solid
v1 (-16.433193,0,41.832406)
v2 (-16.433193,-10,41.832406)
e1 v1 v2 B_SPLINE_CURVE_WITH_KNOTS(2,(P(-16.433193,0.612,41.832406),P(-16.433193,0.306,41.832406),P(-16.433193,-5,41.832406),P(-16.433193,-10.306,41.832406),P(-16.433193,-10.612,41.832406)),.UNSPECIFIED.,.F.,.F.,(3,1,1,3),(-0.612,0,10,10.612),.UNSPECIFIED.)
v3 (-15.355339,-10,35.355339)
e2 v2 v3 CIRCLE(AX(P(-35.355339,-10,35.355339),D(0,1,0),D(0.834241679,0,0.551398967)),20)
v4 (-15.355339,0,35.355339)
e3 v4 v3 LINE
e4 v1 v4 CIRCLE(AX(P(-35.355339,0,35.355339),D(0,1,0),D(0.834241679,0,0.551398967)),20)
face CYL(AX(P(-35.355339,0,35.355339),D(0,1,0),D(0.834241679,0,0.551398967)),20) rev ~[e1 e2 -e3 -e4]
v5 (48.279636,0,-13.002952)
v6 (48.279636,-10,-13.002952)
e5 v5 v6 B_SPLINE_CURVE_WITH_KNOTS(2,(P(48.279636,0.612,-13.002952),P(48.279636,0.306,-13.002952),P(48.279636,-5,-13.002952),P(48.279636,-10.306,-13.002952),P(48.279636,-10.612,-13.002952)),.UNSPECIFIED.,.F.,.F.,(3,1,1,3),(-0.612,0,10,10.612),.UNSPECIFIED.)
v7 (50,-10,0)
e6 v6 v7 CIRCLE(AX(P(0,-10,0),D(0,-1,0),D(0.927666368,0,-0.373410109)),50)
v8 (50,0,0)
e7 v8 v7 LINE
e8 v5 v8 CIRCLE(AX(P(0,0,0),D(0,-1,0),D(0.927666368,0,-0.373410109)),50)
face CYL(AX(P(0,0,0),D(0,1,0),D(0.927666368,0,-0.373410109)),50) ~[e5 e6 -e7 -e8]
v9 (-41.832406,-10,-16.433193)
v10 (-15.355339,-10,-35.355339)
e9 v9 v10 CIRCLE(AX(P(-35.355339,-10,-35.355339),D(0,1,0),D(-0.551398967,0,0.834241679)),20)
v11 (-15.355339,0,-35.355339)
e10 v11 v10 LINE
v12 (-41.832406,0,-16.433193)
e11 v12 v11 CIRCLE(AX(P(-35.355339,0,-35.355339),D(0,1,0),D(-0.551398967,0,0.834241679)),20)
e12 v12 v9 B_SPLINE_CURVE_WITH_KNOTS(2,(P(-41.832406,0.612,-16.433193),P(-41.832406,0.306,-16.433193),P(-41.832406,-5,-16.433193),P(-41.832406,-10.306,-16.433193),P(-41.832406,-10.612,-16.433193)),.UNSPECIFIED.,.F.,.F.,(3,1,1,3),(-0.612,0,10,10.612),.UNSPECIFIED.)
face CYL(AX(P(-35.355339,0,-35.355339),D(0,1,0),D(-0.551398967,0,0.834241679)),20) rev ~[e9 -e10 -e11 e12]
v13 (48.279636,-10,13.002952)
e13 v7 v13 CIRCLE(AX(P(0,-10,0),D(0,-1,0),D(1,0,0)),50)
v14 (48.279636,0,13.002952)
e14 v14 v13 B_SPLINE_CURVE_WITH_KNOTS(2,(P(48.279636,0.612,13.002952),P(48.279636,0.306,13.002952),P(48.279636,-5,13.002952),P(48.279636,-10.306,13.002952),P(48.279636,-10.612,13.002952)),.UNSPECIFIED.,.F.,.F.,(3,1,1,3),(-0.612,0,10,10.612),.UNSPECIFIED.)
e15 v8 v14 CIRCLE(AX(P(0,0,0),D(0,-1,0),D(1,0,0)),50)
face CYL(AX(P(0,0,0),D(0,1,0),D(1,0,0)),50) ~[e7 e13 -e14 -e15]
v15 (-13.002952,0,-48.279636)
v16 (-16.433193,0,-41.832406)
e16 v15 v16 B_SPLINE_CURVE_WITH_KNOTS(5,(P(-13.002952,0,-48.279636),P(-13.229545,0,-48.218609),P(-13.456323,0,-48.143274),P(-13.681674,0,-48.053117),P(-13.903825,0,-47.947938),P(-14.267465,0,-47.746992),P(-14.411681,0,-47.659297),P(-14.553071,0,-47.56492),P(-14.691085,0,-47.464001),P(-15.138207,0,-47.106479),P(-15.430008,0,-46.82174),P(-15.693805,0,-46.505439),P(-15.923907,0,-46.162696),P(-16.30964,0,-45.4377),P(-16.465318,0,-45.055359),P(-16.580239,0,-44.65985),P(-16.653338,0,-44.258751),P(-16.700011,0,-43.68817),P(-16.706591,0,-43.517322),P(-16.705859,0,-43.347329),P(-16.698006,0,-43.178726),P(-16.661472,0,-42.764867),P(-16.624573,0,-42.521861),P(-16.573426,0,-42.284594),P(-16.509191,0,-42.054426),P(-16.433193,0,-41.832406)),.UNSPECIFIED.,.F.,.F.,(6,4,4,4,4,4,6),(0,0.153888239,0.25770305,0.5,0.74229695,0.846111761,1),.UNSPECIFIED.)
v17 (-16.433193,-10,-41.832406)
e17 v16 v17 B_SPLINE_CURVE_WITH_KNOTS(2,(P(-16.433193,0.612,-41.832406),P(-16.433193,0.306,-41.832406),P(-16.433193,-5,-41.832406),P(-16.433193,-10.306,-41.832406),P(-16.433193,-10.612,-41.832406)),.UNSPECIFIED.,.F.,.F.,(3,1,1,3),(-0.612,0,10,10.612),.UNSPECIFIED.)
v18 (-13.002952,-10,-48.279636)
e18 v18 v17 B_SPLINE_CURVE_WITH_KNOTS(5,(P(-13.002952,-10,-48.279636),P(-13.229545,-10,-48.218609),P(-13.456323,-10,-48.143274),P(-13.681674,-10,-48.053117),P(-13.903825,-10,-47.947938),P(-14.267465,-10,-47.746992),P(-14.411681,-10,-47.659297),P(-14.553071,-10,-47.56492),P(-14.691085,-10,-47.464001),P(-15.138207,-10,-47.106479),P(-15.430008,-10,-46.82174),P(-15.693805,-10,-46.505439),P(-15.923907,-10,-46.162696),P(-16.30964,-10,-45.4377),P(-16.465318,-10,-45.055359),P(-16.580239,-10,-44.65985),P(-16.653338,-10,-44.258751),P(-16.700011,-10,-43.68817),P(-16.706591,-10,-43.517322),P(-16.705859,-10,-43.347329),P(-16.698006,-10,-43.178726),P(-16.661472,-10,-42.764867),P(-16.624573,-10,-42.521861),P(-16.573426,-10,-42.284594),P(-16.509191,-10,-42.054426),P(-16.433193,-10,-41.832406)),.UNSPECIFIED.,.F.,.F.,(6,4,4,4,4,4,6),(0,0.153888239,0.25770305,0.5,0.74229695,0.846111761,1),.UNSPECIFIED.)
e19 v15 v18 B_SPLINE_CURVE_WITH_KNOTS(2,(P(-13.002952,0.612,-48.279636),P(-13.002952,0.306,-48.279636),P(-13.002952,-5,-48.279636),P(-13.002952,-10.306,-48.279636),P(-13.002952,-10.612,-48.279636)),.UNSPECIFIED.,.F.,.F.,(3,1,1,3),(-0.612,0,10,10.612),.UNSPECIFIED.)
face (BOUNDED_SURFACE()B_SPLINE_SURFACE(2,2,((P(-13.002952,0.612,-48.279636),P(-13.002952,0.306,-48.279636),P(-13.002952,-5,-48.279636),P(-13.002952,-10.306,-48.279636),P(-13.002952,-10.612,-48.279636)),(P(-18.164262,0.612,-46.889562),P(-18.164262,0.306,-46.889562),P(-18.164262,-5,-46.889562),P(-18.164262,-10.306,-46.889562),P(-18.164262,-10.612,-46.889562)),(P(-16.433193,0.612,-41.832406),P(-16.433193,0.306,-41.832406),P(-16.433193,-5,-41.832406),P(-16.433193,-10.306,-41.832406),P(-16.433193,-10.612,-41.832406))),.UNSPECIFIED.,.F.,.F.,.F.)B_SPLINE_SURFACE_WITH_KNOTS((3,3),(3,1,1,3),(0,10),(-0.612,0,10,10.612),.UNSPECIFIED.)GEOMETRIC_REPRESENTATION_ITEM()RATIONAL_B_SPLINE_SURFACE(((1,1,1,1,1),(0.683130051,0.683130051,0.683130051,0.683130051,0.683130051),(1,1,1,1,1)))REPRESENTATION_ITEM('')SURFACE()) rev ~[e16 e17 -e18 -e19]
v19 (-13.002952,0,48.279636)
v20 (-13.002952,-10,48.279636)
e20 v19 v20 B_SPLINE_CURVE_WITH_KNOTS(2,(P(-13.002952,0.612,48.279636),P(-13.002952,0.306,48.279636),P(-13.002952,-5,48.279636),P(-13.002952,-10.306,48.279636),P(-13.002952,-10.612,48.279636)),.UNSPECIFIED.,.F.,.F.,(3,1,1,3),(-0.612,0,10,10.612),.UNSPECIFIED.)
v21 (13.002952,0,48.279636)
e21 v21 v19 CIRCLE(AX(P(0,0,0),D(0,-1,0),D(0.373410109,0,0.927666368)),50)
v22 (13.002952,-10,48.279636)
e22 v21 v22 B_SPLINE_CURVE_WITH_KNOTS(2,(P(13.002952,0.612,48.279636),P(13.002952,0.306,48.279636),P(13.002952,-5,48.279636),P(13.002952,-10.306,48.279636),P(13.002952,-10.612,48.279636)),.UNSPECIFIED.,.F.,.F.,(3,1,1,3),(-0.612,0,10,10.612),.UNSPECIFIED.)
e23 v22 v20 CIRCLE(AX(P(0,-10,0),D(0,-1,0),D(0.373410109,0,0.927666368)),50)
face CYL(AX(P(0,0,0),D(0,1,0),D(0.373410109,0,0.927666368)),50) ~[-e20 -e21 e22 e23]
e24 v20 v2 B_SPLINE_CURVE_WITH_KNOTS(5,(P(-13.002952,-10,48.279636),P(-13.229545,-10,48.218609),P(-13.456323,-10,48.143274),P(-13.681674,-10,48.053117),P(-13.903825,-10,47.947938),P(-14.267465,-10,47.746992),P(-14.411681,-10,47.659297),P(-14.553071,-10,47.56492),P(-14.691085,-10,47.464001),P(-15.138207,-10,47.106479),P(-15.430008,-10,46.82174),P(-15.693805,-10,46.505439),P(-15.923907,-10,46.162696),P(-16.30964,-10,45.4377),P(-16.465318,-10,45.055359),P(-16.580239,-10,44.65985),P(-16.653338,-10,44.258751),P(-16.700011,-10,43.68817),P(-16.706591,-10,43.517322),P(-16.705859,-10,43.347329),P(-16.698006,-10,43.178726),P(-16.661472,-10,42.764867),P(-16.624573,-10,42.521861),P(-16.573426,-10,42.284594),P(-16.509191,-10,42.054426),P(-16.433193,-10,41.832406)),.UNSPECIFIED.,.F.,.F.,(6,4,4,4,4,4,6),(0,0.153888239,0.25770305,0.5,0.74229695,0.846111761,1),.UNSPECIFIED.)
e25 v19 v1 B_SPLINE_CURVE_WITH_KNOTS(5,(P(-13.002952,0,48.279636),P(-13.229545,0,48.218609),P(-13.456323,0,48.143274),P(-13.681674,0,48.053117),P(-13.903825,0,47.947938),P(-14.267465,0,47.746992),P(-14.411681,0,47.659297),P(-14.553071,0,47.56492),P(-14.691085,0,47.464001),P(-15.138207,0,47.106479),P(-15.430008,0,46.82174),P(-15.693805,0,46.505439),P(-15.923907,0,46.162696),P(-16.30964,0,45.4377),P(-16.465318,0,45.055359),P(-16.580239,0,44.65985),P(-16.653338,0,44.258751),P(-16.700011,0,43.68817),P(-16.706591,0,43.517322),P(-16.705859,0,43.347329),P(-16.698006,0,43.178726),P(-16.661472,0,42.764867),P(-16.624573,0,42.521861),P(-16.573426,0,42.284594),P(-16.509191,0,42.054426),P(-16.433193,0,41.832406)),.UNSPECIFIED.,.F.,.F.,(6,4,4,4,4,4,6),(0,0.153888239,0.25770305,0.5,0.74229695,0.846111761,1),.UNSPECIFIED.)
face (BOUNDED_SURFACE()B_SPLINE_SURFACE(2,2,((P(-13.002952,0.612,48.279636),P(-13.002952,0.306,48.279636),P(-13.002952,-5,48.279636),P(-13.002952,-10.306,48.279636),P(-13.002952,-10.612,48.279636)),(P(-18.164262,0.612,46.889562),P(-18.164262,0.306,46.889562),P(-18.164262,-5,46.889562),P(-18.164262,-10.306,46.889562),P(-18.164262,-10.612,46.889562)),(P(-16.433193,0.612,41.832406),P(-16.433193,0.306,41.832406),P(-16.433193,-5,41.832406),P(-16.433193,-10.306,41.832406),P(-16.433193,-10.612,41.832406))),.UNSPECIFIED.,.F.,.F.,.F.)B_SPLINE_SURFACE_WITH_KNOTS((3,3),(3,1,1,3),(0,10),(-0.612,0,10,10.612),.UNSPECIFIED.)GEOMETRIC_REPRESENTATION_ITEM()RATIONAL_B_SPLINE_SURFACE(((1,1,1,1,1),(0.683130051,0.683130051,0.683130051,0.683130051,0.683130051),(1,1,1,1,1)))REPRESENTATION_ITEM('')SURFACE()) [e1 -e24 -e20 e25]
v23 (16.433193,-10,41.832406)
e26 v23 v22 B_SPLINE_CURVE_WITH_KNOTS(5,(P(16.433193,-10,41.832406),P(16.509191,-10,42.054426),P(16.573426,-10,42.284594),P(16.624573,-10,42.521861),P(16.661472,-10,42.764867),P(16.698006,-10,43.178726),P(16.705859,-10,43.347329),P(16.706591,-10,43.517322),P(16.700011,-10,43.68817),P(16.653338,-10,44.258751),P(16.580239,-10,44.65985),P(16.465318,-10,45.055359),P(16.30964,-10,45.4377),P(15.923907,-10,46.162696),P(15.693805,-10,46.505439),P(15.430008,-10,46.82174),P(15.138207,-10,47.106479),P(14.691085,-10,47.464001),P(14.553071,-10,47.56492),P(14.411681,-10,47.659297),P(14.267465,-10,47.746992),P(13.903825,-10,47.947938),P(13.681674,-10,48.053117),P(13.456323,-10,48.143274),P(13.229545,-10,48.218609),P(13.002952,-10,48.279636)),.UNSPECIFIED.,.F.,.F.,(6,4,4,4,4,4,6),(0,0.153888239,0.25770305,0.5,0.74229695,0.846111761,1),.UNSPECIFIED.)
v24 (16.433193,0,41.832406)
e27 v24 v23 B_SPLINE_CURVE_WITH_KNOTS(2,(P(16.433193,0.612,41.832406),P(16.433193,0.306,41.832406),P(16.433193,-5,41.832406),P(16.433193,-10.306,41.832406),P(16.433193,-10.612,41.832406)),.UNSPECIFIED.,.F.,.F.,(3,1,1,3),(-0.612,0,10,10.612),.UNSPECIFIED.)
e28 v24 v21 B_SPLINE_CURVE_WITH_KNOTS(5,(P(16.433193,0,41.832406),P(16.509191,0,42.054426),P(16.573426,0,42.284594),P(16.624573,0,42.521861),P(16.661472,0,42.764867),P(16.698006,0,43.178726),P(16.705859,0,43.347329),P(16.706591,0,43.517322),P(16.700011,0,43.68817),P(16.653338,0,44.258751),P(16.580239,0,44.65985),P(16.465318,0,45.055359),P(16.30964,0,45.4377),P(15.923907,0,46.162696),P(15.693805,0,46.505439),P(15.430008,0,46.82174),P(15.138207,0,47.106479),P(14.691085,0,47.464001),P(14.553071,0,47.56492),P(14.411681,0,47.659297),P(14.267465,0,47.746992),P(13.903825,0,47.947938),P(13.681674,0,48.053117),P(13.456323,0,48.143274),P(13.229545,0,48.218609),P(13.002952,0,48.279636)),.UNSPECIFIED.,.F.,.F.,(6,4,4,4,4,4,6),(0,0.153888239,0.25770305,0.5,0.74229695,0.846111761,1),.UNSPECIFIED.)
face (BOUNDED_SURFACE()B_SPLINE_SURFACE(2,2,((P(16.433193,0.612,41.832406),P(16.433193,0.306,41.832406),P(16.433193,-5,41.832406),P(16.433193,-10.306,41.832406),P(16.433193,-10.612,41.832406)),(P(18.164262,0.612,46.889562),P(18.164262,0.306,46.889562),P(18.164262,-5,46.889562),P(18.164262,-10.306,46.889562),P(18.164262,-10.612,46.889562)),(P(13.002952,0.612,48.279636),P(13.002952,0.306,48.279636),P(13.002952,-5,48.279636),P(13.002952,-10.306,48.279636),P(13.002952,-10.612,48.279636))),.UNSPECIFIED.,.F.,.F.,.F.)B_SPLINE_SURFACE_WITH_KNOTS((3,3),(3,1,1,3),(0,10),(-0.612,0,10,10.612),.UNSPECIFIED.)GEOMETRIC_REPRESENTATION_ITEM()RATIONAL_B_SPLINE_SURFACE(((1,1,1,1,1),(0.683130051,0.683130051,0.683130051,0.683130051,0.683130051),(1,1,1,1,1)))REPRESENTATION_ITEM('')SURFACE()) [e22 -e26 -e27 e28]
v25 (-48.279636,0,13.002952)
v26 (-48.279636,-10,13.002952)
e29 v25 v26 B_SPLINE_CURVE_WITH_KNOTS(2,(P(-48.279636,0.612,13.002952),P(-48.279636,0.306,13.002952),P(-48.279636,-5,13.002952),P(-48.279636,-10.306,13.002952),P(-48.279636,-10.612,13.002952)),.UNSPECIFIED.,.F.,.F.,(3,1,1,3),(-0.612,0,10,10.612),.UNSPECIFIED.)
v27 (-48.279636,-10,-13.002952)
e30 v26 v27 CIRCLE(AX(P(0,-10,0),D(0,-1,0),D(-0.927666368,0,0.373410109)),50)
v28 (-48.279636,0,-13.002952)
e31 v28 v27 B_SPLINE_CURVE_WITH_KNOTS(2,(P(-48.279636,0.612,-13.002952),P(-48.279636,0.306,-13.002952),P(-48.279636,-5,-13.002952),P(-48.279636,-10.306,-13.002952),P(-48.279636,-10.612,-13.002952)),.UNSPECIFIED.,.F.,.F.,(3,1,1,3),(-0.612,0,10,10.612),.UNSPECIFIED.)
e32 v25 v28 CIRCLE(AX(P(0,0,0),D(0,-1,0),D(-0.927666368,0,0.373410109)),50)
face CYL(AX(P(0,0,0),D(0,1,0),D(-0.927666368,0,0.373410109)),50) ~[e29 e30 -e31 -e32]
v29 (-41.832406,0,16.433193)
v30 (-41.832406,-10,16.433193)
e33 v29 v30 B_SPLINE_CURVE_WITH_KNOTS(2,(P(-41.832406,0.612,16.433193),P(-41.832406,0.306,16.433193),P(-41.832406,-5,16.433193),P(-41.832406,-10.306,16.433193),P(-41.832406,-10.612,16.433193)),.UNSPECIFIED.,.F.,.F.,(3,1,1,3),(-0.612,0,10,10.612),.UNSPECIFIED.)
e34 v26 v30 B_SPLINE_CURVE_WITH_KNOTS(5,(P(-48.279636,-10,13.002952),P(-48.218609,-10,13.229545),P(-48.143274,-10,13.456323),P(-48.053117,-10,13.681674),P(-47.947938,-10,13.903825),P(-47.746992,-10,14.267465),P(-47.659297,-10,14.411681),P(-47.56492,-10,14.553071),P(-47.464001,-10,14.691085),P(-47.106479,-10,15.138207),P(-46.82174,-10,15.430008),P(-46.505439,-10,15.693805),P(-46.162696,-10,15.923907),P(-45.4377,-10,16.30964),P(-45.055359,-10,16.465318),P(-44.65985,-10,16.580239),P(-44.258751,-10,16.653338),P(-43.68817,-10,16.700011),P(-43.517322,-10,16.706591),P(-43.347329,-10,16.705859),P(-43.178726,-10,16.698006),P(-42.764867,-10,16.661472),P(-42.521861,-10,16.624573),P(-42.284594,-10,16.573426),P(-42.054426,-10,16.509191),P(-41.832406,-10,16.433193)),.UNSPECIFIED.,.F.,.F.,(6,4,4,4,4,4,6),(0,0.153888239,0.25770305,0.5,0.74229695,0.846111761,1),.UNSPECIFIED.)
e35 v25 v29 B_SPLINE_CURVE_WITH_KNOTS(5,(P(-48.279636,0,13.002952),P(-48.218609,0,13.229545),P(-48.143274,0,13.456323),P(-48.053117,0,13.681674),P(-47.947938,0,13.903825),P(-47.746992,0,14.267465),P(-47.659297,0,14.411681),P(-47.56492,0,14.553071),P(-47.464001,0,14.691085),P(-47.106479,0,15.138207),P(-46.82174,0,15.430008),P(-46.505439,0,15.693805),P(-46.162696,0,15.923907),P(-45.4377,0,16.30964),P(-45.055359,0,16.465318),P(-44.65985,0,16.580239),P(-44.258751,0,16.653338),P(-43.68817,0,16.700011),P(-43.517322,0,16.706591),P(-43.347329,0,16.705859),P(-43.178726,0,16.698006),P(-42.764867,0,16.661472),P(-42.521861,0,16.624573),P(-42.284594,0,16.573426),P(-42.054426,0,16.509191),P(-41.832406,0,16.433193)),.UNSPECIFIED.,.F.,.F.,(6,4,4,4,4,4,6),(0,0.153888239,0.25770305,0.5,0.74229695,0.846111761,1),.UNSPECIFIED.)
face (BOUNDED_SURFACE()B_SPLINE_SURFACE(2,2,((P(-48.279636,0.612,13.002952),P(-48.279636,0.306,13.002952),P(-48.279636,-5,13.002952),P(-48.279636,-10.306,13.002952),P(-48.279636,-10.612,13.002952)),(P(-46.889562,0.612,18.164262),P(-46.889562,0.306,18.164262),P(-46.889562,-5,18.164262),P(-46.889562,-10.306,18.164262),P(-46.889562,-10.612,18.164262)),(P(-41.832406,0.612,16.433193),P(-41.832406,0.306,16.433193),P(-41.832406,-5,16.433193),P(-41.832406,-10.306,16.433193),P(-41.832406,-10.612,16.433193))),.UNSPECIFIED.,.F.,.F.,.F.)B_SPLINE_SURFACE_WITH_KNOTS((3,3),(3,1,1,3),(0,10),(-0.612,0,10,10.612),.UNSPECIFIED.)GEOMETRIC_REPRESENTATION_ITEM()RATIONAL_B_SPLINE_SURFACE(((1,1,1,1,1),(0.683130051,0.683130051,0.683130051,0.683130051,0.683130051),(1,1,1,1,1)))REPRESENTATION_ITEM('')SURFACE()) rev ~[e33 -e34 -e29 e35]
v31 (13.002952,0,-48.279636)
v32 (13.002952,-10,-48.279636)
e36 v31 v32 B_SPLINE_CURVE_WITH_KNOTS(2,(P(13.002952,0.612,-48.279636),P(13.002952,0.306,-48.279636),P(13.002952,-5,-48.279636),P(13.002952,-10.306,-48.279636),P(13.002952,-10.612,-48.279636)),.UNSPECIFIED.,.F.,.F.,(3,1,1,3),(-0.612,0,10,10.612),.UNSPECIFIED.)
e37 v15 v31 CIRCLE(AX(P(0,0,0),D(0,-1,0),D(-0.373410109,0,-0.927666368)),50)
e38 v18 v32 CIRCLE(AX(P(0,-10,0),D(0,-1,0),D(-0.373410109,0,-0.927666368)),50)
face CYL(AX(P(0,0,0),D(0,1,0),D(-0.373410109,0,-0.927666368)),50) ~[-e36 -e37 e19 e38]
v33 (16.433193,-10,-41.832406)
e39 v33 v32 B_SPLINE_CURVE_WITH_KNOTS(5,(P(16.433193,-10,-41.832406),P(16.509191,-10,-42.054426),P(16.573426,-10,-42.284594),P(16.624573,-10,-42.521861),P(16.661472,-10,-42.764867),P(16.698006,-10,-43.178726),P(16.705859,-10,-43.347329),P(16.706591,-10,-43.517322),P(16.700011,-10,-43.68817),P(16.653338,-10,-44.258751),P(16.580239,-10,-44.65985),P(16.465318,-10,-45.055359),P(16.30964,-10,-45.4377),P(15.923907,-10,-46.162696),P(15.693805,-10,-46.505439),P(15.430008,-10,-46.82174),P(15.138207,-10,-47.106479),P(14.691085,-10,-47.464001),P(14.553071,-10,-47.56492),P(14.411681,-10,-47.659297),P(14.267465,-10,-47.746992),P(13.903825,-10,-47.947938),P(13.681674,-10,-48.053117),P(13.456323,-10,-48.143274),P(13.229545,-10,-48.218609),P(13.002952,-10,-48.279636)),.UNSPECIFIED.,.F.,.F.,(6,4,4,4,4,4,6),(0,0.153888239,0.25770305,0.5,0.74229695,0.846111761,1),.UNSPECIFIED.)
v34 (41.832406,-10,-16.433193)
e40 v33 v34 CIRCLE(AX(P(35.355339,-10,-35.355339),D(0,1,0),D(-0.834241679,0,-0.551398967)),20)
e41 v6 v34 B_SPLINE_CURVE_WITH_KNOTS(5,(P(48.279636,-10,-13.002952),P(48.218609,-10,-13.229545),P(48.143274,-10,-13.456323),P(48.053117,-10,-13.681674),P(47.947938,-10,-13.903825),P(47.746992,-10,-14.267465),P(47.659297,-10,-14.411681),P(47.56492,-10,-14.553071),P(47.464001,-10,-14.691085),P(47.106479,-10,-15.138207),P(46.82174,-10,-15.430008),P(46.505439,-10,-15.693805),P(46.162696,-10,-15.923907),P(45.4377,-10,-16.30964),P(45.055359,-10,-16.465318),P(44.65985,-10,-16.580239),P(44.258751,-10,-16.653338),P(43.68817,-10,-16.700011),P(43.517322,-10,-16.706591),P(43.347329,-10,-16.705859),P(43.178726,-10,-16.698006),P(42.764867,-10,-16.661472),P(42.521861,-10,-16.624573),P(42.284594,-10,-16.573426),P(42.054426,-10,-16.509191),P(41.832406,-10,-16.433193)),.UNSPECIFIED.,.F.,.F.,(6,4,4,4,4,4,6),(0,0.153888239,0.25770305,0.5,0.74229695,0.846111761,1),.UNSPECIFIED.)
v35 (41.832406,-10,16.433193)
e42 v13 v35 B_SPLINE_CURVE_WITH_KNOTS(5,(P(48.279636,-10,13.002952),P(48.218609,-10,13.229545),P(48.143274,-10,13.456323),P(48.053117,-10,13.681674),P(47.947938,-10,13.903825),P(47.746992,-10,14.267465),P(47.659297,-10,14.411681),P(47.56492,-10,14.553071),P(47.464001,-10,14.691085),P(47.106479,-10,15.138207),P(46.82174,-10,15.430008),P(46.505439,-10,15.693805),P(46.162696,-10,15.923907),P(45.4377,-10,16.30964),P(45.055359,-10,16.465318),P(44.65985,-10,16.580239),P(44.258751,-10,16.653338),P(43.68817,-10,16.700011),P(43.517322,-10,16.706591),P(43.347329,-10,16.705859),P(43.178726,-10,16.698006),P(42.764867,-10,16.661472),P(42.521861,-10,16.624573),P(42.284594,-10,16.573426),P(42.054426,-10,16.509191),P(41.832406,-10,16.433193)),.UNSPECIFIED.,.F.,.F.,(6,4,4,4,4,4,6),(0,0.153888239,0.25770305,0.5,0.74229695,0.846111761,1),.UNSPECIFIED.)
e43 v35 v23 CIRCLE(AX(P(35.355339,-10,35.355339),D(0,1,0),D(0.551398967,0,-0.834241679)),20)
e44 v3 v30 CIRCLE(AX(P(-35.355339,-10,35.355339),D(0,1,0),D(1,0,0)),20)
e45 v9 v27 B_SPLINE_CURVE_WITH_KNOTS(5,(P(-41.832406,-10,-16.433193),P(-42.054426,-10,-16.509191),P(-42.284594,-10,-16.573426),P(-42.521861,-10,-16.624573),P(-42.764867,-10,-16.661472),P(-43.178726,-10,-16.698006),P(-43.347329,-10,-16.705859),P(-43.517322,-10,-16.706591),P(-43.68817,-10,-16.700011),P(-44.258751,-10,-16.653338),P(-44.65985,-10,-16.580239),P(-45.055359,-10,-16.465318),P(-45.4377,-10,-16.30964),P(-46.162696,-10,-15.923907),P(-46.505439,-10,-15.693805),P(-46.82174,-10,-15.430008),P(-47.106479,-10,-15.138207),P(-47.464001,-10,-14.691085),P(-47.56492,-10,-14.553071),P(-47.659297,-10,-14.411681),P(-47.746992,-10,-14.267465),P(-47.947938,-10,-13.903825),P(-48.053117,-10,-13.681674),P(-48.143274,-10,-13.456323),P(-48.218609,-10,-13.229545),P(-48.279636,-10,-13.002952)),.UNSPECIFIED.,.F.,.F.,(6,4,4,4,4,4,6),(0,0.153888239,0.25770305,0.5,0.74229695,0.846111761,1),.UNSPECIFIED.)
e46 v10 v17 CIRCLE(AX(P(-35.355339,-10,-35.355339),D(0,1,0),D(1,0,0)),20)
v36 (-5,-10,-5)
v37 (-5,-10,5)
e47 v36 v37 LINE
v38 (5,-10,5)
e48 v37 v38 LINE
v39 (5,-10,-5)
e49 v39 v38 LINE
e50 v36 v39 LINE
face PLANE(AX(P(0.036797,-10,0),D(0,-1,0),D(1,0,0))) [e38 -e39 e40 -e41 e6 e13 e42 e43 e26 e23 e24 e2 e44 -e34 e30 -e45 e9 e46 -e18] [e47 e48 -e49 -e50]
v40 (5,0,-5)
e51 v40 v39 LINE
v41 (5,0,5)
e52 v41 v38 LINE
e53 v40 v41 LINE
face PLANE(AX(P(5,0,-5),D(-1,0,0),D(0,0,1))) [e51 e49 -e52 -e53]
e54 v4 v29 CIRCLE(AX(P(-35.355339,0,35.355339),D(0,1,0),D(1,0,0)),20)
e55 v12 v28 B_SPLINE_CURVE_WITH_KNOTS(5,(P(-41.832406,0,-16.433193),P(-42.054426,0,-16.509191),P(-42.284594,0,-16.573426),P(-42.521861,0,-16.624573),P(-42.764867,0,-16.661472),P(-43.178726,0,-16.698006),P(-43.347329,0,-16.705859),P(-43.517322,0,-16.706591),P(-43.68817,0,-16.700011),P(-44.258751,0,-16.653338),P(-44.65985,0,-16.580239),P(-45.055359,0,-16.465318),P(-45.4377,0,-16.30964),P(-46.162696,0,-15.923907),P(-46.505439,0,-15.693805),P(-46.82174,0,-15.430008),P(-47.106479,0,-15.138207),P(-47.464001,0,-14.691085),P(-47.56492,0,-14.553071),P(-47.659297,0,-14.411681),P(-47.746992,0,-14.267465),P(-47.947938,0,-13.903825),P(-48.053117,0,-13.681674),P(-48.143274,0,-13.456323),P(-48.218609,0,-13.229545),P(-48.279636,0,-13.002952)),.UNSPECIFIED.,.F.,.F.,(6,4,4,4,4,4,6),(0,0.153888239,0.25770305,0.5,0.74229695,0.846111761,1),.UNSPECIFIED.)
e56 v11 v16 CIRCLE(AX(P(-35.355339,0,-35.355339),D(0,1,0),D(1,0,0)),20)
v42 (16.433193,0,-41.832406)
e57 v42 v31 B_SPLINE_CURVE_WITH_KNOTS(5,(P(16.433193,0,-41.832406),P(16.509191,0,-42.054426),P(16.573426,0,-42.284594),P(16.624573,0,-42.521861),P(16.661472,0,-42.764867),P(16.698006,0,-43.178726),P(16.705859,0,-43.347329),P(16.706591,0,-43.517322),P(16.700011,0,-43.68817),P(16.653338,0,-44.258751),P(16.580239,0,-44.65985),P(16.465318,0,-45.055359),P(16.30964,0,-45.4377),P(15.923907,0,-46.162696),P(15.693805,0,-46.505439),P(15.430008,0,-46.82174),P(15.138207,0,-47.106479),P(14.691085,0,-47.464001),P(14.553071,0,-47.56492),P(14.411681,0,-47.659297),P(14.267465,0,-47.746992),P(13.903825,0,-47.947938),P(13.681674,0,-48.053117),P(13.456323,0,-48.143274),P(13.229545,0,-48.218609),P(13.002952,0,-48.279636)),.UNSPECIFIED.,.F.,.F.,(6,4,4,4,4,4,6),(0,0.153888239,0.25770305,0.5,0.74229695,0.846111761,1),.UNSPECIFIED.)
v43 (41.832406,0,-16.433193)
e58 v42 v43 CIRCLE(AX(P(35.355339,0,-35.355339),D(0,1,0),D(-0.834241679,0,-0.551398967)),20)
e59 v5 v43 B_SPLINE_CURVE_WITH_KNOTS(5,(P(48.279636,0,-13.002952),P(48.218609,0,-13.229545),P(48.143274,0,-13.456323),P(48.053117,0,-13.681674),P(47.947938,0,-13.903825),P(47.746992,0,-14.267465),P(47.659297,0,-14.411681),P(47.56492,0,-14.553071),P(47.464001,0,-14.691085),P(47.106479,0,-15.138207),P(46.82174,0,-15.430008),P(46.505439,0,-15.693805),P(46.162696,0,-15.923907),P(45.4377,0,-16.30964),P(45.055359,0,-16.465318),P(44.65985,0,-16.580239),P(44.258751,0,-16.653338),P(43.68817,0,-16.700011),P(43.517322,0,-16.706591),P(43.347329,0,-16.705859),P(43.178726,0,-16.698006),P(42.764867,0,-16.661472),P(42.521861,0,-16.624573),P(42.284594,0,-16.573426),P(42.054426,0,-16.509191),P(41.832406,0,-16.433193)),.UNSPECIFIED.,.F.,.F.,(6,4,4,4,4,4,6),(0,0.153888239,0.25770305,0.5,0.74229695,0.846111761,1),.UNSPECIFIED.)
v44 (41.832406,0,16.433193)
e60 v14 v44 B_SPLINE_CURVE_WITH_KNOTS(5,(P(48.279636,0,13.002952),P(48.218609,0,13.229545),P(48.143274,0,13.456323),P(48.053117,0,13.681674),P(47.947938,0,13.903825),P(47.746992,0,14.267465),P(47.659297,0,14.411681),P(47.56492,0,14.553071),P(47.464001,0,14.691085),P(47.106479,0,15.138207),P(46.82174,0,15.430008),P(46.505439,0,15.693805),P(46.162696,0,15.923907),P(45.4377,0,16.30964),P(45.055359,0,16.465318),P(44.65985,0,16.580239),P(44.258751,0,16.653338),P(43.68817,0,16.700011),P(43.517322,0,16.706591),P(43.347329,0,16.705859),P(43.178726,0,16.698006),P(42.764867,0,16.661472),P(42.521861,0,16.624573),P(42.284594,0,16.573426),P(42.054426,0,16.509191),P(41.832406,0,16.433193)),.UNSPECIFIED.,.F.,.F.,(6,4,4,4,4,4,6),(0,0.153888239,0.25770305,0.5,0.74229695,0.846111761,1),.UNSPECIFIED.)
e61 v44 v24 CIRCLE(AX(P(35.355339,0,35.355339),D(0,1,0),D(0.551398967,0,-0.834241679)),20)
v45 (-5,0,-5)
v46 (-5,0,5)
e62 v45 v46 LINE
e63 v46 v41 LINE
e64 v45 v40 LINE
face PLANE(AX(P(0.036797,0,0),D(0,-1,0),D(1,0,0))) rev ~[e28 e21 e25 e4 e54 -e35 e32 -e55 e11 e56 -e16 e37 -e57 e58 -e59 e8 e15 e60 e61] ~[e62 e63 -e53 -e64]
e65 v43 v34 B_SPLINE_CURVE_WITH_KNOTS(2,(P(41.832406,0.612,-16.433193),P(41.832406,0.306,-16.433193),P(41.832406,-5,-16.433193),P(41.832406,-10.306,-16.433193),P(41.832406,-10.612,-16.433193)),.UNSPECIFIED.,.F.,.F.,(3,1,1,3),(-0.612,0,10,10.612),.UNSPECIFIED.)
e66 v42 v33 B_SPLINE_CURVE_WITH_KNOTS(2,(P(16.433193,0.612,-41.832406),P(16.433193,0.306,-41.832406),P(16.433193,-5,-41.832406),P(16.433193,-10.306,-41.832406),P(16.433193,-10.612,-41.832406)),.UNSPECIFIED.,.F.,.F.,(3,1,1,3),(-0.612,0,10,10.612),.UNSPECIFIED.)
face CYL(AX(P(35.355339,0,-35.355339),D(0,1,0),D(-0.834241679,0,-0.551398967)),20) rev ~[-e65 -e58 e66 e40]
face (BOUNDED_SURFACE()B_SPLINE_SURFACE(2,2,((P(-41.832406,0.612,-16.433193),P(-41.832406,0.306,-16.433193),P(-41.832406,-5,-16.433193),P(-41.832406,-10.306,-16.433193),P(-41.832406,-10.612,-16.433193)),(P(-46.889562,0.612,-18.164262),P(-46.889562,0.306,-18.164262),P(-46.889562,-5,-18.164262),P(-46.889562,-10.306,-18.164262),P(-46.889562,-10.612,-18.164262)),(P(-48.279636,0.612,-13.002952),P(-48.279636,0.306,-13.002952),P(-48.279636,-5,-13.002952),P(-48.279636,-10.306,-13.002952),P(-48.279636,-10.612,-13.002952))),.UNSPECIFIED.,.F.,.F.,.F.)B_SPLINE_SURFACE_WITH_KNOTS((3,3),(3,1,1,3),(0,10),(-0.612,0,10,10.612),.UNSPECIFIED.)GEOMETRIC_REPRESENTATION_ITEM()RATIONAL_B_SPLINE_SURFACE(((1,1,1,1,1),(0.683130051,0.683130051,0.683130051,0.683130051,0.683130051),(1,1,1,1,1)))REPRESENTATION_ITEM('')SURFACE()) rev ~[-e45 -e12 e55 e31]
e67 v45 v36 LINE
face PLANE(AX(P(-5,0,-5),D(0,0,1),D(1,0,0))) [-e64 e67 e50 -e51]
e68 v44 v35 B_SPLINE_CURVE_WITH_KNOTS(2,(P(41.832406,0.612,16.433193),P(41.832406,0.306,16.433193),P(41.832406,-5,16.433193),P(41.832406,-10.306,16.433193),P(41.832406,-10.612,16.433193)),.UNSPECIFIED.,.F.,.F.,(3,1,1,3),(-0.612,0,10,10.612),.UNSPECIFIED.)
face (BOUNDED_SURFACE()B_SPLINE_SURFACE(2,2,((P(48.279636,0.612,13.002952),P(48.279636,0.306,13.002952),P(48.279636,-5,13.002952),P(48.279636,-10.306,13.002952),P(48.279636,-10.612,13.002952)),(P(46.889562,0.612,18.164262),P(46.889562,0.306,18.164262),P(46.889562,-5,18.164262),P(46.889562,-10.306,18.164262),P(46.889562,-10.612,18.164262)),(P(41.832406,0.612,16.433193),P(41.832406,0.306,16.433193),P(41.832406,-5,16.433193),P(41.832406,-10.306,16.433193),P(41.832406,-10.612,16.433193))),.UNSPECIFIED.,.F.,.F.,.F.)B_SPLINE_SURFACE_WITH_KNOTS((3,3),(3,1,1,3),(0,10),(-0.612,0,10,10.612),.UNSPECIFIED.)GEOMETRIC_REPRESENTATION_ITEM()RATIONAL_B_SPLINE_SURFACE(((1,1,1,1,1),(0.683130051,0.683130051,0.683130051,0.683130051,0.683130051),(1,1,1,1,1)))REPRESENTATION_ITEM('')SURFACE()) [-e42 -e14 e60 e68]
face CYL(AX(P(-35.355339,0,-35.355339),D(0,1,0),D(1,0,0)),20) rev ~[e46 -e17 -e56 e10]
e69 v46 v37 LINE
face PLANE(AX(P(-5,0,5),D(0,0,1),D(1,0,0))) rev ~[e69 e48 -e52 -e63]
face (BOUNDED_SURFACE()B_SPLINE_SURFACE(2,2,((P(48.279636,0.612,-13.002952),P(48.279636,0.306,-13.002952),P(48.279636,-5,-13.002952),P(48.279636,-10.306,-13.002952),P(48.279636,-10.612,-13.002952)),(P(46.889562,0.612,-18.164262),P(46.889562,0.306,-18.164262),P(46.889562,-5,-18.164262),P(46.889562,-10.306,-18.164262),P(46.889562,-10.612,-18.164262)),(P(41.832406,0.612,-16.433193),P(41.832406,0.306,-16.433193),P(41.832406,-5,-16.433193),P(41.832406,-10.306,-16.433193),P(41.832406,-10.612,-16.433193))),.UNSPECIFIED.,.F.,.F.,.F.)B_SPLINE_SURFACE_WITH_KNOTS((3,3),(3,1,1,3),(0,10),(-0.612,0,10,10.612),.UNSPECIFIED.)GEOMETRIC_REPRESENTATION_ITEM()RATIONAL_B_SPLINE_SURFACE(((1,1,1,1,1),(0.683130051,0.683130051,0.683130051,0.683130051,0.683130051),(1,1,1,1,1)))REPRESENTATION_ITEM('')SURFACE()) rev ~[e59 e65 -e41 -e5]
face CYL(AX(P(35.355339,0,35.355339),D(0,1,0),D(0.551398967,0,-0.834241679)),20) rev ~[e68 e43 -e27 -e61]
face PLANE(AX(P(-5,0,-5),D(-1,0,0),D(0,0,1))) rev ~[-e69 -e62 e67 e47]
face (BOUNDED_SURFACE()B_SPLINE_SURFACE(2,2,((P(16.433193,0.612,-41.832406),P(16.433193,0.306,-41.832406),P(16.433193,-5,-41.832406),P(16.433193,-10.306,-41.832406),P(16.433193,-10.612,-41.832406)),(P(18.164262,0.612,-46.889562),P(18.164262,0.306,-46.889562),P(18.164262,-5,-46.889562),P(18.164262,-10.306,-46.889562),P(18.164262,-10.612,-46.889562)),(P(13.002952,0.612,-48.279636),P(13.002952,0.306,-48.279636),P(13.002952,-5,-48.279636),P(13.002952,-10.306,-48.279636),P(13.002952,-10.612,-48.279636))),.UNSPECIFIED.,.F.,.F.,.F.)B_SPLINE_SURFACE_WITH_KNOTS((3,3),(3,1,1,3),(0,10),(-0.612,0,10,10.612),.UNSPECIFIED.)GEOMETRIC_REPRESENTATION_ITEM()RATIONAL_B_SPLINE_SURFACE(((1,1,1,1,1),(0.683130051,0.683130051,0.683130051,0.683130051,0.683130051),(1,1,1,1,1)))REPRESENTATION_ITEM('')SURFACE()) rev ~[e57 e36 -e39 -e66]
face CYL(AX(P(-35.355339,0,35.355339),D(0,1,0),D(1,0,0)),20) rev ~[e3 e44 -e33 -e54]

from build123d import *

# Parameters (mm, degrees)
F0_W     = 10
F0_H     = 10
F1_DEPTH = 10
F2_R     = 5
F3_R     = 5


with BuildPart() as f1:
    # F0 (on Front) → F1 (new body)
    with BuildSketch(Plane.XZ):
        with BuildLine():
            ThreePointArc((46.3833183951, -18.670505474), (49.0875030927, -9.5087875211), (50, 0))
            ThreePointArc((50, 0), (49.0875030927, 9.5087875211), (46.3833183951, 18.670505474))
            ThreePointArc((46.3833183951, 18.670505474), (21.2132034356, 21.2132034356), (18.670505474, 46.3833183951))
            ThreePointArc((18.670505474, 46.3833183951), (0, 50), (-18.670505474, 46.3833183951))
            ThreePointArc((-18.670505474, 46.3833183951), (-16.2020538097, 41.113087243), (-15.3553390593, 35.3553390593))
            ThreePointArc((-15.3553390593, 35.3553390593), (-25.8832639624, 17.7405783923), (-46.3833183951, 18.670505474))
            ThreePointArc((-46.3833183951, 18.670505474), (-50, 0), (-46.3833183951, -18.670505474))
            ThreePointArc((-46.3833183951, -18.670505474), (-25.8832639624, -17.7405783923), (-15.3553390593, -35.3553390593))
            ThreePointArc((-15.3553390593, -35.3553390593), (-16.2020538097, -41.113087243), (-18.670505474, -46.3833183951))
            ThreePointArc((-18.670505474, -46.3833183951), (0, -50), (18.670505474, -46.3833183951))
            ThreePointArc((18.670505474, -46.3833183951), (21.2132034356, -21.2132034356), (46.3833183951, -18.670505474))
        make_face()
        Rectangle(F0_W, F0_H, mode=Mode.SUBTRACT)
    extrude(amount=F1_DEPTH)

    # F2
    f2_edges = [f1.edges().sort_by_distance(p)[0] for p in [
        (-46.383318, -5, 18.670505),
        (-18.670505, -5, 46.383318),
        (46.383318, -5, 18.670505),
        (18.670505, -5, 46.383318),
    ]]
    fillet(f2_edges, radius=F2_R)

    # F3
    f3_edges = [f1.edges().sort_by_distance(p)[0] for p in [
        (-18.670505, -5, -46.383318),
        (-46.383318, -5, -18.670505),
        (18.670505, -5, -46.383318),
        (46.383318, -5, -18.670505),
    ]]
    fillet(f3_edges, radius=F3_R)


solid = f1.part
